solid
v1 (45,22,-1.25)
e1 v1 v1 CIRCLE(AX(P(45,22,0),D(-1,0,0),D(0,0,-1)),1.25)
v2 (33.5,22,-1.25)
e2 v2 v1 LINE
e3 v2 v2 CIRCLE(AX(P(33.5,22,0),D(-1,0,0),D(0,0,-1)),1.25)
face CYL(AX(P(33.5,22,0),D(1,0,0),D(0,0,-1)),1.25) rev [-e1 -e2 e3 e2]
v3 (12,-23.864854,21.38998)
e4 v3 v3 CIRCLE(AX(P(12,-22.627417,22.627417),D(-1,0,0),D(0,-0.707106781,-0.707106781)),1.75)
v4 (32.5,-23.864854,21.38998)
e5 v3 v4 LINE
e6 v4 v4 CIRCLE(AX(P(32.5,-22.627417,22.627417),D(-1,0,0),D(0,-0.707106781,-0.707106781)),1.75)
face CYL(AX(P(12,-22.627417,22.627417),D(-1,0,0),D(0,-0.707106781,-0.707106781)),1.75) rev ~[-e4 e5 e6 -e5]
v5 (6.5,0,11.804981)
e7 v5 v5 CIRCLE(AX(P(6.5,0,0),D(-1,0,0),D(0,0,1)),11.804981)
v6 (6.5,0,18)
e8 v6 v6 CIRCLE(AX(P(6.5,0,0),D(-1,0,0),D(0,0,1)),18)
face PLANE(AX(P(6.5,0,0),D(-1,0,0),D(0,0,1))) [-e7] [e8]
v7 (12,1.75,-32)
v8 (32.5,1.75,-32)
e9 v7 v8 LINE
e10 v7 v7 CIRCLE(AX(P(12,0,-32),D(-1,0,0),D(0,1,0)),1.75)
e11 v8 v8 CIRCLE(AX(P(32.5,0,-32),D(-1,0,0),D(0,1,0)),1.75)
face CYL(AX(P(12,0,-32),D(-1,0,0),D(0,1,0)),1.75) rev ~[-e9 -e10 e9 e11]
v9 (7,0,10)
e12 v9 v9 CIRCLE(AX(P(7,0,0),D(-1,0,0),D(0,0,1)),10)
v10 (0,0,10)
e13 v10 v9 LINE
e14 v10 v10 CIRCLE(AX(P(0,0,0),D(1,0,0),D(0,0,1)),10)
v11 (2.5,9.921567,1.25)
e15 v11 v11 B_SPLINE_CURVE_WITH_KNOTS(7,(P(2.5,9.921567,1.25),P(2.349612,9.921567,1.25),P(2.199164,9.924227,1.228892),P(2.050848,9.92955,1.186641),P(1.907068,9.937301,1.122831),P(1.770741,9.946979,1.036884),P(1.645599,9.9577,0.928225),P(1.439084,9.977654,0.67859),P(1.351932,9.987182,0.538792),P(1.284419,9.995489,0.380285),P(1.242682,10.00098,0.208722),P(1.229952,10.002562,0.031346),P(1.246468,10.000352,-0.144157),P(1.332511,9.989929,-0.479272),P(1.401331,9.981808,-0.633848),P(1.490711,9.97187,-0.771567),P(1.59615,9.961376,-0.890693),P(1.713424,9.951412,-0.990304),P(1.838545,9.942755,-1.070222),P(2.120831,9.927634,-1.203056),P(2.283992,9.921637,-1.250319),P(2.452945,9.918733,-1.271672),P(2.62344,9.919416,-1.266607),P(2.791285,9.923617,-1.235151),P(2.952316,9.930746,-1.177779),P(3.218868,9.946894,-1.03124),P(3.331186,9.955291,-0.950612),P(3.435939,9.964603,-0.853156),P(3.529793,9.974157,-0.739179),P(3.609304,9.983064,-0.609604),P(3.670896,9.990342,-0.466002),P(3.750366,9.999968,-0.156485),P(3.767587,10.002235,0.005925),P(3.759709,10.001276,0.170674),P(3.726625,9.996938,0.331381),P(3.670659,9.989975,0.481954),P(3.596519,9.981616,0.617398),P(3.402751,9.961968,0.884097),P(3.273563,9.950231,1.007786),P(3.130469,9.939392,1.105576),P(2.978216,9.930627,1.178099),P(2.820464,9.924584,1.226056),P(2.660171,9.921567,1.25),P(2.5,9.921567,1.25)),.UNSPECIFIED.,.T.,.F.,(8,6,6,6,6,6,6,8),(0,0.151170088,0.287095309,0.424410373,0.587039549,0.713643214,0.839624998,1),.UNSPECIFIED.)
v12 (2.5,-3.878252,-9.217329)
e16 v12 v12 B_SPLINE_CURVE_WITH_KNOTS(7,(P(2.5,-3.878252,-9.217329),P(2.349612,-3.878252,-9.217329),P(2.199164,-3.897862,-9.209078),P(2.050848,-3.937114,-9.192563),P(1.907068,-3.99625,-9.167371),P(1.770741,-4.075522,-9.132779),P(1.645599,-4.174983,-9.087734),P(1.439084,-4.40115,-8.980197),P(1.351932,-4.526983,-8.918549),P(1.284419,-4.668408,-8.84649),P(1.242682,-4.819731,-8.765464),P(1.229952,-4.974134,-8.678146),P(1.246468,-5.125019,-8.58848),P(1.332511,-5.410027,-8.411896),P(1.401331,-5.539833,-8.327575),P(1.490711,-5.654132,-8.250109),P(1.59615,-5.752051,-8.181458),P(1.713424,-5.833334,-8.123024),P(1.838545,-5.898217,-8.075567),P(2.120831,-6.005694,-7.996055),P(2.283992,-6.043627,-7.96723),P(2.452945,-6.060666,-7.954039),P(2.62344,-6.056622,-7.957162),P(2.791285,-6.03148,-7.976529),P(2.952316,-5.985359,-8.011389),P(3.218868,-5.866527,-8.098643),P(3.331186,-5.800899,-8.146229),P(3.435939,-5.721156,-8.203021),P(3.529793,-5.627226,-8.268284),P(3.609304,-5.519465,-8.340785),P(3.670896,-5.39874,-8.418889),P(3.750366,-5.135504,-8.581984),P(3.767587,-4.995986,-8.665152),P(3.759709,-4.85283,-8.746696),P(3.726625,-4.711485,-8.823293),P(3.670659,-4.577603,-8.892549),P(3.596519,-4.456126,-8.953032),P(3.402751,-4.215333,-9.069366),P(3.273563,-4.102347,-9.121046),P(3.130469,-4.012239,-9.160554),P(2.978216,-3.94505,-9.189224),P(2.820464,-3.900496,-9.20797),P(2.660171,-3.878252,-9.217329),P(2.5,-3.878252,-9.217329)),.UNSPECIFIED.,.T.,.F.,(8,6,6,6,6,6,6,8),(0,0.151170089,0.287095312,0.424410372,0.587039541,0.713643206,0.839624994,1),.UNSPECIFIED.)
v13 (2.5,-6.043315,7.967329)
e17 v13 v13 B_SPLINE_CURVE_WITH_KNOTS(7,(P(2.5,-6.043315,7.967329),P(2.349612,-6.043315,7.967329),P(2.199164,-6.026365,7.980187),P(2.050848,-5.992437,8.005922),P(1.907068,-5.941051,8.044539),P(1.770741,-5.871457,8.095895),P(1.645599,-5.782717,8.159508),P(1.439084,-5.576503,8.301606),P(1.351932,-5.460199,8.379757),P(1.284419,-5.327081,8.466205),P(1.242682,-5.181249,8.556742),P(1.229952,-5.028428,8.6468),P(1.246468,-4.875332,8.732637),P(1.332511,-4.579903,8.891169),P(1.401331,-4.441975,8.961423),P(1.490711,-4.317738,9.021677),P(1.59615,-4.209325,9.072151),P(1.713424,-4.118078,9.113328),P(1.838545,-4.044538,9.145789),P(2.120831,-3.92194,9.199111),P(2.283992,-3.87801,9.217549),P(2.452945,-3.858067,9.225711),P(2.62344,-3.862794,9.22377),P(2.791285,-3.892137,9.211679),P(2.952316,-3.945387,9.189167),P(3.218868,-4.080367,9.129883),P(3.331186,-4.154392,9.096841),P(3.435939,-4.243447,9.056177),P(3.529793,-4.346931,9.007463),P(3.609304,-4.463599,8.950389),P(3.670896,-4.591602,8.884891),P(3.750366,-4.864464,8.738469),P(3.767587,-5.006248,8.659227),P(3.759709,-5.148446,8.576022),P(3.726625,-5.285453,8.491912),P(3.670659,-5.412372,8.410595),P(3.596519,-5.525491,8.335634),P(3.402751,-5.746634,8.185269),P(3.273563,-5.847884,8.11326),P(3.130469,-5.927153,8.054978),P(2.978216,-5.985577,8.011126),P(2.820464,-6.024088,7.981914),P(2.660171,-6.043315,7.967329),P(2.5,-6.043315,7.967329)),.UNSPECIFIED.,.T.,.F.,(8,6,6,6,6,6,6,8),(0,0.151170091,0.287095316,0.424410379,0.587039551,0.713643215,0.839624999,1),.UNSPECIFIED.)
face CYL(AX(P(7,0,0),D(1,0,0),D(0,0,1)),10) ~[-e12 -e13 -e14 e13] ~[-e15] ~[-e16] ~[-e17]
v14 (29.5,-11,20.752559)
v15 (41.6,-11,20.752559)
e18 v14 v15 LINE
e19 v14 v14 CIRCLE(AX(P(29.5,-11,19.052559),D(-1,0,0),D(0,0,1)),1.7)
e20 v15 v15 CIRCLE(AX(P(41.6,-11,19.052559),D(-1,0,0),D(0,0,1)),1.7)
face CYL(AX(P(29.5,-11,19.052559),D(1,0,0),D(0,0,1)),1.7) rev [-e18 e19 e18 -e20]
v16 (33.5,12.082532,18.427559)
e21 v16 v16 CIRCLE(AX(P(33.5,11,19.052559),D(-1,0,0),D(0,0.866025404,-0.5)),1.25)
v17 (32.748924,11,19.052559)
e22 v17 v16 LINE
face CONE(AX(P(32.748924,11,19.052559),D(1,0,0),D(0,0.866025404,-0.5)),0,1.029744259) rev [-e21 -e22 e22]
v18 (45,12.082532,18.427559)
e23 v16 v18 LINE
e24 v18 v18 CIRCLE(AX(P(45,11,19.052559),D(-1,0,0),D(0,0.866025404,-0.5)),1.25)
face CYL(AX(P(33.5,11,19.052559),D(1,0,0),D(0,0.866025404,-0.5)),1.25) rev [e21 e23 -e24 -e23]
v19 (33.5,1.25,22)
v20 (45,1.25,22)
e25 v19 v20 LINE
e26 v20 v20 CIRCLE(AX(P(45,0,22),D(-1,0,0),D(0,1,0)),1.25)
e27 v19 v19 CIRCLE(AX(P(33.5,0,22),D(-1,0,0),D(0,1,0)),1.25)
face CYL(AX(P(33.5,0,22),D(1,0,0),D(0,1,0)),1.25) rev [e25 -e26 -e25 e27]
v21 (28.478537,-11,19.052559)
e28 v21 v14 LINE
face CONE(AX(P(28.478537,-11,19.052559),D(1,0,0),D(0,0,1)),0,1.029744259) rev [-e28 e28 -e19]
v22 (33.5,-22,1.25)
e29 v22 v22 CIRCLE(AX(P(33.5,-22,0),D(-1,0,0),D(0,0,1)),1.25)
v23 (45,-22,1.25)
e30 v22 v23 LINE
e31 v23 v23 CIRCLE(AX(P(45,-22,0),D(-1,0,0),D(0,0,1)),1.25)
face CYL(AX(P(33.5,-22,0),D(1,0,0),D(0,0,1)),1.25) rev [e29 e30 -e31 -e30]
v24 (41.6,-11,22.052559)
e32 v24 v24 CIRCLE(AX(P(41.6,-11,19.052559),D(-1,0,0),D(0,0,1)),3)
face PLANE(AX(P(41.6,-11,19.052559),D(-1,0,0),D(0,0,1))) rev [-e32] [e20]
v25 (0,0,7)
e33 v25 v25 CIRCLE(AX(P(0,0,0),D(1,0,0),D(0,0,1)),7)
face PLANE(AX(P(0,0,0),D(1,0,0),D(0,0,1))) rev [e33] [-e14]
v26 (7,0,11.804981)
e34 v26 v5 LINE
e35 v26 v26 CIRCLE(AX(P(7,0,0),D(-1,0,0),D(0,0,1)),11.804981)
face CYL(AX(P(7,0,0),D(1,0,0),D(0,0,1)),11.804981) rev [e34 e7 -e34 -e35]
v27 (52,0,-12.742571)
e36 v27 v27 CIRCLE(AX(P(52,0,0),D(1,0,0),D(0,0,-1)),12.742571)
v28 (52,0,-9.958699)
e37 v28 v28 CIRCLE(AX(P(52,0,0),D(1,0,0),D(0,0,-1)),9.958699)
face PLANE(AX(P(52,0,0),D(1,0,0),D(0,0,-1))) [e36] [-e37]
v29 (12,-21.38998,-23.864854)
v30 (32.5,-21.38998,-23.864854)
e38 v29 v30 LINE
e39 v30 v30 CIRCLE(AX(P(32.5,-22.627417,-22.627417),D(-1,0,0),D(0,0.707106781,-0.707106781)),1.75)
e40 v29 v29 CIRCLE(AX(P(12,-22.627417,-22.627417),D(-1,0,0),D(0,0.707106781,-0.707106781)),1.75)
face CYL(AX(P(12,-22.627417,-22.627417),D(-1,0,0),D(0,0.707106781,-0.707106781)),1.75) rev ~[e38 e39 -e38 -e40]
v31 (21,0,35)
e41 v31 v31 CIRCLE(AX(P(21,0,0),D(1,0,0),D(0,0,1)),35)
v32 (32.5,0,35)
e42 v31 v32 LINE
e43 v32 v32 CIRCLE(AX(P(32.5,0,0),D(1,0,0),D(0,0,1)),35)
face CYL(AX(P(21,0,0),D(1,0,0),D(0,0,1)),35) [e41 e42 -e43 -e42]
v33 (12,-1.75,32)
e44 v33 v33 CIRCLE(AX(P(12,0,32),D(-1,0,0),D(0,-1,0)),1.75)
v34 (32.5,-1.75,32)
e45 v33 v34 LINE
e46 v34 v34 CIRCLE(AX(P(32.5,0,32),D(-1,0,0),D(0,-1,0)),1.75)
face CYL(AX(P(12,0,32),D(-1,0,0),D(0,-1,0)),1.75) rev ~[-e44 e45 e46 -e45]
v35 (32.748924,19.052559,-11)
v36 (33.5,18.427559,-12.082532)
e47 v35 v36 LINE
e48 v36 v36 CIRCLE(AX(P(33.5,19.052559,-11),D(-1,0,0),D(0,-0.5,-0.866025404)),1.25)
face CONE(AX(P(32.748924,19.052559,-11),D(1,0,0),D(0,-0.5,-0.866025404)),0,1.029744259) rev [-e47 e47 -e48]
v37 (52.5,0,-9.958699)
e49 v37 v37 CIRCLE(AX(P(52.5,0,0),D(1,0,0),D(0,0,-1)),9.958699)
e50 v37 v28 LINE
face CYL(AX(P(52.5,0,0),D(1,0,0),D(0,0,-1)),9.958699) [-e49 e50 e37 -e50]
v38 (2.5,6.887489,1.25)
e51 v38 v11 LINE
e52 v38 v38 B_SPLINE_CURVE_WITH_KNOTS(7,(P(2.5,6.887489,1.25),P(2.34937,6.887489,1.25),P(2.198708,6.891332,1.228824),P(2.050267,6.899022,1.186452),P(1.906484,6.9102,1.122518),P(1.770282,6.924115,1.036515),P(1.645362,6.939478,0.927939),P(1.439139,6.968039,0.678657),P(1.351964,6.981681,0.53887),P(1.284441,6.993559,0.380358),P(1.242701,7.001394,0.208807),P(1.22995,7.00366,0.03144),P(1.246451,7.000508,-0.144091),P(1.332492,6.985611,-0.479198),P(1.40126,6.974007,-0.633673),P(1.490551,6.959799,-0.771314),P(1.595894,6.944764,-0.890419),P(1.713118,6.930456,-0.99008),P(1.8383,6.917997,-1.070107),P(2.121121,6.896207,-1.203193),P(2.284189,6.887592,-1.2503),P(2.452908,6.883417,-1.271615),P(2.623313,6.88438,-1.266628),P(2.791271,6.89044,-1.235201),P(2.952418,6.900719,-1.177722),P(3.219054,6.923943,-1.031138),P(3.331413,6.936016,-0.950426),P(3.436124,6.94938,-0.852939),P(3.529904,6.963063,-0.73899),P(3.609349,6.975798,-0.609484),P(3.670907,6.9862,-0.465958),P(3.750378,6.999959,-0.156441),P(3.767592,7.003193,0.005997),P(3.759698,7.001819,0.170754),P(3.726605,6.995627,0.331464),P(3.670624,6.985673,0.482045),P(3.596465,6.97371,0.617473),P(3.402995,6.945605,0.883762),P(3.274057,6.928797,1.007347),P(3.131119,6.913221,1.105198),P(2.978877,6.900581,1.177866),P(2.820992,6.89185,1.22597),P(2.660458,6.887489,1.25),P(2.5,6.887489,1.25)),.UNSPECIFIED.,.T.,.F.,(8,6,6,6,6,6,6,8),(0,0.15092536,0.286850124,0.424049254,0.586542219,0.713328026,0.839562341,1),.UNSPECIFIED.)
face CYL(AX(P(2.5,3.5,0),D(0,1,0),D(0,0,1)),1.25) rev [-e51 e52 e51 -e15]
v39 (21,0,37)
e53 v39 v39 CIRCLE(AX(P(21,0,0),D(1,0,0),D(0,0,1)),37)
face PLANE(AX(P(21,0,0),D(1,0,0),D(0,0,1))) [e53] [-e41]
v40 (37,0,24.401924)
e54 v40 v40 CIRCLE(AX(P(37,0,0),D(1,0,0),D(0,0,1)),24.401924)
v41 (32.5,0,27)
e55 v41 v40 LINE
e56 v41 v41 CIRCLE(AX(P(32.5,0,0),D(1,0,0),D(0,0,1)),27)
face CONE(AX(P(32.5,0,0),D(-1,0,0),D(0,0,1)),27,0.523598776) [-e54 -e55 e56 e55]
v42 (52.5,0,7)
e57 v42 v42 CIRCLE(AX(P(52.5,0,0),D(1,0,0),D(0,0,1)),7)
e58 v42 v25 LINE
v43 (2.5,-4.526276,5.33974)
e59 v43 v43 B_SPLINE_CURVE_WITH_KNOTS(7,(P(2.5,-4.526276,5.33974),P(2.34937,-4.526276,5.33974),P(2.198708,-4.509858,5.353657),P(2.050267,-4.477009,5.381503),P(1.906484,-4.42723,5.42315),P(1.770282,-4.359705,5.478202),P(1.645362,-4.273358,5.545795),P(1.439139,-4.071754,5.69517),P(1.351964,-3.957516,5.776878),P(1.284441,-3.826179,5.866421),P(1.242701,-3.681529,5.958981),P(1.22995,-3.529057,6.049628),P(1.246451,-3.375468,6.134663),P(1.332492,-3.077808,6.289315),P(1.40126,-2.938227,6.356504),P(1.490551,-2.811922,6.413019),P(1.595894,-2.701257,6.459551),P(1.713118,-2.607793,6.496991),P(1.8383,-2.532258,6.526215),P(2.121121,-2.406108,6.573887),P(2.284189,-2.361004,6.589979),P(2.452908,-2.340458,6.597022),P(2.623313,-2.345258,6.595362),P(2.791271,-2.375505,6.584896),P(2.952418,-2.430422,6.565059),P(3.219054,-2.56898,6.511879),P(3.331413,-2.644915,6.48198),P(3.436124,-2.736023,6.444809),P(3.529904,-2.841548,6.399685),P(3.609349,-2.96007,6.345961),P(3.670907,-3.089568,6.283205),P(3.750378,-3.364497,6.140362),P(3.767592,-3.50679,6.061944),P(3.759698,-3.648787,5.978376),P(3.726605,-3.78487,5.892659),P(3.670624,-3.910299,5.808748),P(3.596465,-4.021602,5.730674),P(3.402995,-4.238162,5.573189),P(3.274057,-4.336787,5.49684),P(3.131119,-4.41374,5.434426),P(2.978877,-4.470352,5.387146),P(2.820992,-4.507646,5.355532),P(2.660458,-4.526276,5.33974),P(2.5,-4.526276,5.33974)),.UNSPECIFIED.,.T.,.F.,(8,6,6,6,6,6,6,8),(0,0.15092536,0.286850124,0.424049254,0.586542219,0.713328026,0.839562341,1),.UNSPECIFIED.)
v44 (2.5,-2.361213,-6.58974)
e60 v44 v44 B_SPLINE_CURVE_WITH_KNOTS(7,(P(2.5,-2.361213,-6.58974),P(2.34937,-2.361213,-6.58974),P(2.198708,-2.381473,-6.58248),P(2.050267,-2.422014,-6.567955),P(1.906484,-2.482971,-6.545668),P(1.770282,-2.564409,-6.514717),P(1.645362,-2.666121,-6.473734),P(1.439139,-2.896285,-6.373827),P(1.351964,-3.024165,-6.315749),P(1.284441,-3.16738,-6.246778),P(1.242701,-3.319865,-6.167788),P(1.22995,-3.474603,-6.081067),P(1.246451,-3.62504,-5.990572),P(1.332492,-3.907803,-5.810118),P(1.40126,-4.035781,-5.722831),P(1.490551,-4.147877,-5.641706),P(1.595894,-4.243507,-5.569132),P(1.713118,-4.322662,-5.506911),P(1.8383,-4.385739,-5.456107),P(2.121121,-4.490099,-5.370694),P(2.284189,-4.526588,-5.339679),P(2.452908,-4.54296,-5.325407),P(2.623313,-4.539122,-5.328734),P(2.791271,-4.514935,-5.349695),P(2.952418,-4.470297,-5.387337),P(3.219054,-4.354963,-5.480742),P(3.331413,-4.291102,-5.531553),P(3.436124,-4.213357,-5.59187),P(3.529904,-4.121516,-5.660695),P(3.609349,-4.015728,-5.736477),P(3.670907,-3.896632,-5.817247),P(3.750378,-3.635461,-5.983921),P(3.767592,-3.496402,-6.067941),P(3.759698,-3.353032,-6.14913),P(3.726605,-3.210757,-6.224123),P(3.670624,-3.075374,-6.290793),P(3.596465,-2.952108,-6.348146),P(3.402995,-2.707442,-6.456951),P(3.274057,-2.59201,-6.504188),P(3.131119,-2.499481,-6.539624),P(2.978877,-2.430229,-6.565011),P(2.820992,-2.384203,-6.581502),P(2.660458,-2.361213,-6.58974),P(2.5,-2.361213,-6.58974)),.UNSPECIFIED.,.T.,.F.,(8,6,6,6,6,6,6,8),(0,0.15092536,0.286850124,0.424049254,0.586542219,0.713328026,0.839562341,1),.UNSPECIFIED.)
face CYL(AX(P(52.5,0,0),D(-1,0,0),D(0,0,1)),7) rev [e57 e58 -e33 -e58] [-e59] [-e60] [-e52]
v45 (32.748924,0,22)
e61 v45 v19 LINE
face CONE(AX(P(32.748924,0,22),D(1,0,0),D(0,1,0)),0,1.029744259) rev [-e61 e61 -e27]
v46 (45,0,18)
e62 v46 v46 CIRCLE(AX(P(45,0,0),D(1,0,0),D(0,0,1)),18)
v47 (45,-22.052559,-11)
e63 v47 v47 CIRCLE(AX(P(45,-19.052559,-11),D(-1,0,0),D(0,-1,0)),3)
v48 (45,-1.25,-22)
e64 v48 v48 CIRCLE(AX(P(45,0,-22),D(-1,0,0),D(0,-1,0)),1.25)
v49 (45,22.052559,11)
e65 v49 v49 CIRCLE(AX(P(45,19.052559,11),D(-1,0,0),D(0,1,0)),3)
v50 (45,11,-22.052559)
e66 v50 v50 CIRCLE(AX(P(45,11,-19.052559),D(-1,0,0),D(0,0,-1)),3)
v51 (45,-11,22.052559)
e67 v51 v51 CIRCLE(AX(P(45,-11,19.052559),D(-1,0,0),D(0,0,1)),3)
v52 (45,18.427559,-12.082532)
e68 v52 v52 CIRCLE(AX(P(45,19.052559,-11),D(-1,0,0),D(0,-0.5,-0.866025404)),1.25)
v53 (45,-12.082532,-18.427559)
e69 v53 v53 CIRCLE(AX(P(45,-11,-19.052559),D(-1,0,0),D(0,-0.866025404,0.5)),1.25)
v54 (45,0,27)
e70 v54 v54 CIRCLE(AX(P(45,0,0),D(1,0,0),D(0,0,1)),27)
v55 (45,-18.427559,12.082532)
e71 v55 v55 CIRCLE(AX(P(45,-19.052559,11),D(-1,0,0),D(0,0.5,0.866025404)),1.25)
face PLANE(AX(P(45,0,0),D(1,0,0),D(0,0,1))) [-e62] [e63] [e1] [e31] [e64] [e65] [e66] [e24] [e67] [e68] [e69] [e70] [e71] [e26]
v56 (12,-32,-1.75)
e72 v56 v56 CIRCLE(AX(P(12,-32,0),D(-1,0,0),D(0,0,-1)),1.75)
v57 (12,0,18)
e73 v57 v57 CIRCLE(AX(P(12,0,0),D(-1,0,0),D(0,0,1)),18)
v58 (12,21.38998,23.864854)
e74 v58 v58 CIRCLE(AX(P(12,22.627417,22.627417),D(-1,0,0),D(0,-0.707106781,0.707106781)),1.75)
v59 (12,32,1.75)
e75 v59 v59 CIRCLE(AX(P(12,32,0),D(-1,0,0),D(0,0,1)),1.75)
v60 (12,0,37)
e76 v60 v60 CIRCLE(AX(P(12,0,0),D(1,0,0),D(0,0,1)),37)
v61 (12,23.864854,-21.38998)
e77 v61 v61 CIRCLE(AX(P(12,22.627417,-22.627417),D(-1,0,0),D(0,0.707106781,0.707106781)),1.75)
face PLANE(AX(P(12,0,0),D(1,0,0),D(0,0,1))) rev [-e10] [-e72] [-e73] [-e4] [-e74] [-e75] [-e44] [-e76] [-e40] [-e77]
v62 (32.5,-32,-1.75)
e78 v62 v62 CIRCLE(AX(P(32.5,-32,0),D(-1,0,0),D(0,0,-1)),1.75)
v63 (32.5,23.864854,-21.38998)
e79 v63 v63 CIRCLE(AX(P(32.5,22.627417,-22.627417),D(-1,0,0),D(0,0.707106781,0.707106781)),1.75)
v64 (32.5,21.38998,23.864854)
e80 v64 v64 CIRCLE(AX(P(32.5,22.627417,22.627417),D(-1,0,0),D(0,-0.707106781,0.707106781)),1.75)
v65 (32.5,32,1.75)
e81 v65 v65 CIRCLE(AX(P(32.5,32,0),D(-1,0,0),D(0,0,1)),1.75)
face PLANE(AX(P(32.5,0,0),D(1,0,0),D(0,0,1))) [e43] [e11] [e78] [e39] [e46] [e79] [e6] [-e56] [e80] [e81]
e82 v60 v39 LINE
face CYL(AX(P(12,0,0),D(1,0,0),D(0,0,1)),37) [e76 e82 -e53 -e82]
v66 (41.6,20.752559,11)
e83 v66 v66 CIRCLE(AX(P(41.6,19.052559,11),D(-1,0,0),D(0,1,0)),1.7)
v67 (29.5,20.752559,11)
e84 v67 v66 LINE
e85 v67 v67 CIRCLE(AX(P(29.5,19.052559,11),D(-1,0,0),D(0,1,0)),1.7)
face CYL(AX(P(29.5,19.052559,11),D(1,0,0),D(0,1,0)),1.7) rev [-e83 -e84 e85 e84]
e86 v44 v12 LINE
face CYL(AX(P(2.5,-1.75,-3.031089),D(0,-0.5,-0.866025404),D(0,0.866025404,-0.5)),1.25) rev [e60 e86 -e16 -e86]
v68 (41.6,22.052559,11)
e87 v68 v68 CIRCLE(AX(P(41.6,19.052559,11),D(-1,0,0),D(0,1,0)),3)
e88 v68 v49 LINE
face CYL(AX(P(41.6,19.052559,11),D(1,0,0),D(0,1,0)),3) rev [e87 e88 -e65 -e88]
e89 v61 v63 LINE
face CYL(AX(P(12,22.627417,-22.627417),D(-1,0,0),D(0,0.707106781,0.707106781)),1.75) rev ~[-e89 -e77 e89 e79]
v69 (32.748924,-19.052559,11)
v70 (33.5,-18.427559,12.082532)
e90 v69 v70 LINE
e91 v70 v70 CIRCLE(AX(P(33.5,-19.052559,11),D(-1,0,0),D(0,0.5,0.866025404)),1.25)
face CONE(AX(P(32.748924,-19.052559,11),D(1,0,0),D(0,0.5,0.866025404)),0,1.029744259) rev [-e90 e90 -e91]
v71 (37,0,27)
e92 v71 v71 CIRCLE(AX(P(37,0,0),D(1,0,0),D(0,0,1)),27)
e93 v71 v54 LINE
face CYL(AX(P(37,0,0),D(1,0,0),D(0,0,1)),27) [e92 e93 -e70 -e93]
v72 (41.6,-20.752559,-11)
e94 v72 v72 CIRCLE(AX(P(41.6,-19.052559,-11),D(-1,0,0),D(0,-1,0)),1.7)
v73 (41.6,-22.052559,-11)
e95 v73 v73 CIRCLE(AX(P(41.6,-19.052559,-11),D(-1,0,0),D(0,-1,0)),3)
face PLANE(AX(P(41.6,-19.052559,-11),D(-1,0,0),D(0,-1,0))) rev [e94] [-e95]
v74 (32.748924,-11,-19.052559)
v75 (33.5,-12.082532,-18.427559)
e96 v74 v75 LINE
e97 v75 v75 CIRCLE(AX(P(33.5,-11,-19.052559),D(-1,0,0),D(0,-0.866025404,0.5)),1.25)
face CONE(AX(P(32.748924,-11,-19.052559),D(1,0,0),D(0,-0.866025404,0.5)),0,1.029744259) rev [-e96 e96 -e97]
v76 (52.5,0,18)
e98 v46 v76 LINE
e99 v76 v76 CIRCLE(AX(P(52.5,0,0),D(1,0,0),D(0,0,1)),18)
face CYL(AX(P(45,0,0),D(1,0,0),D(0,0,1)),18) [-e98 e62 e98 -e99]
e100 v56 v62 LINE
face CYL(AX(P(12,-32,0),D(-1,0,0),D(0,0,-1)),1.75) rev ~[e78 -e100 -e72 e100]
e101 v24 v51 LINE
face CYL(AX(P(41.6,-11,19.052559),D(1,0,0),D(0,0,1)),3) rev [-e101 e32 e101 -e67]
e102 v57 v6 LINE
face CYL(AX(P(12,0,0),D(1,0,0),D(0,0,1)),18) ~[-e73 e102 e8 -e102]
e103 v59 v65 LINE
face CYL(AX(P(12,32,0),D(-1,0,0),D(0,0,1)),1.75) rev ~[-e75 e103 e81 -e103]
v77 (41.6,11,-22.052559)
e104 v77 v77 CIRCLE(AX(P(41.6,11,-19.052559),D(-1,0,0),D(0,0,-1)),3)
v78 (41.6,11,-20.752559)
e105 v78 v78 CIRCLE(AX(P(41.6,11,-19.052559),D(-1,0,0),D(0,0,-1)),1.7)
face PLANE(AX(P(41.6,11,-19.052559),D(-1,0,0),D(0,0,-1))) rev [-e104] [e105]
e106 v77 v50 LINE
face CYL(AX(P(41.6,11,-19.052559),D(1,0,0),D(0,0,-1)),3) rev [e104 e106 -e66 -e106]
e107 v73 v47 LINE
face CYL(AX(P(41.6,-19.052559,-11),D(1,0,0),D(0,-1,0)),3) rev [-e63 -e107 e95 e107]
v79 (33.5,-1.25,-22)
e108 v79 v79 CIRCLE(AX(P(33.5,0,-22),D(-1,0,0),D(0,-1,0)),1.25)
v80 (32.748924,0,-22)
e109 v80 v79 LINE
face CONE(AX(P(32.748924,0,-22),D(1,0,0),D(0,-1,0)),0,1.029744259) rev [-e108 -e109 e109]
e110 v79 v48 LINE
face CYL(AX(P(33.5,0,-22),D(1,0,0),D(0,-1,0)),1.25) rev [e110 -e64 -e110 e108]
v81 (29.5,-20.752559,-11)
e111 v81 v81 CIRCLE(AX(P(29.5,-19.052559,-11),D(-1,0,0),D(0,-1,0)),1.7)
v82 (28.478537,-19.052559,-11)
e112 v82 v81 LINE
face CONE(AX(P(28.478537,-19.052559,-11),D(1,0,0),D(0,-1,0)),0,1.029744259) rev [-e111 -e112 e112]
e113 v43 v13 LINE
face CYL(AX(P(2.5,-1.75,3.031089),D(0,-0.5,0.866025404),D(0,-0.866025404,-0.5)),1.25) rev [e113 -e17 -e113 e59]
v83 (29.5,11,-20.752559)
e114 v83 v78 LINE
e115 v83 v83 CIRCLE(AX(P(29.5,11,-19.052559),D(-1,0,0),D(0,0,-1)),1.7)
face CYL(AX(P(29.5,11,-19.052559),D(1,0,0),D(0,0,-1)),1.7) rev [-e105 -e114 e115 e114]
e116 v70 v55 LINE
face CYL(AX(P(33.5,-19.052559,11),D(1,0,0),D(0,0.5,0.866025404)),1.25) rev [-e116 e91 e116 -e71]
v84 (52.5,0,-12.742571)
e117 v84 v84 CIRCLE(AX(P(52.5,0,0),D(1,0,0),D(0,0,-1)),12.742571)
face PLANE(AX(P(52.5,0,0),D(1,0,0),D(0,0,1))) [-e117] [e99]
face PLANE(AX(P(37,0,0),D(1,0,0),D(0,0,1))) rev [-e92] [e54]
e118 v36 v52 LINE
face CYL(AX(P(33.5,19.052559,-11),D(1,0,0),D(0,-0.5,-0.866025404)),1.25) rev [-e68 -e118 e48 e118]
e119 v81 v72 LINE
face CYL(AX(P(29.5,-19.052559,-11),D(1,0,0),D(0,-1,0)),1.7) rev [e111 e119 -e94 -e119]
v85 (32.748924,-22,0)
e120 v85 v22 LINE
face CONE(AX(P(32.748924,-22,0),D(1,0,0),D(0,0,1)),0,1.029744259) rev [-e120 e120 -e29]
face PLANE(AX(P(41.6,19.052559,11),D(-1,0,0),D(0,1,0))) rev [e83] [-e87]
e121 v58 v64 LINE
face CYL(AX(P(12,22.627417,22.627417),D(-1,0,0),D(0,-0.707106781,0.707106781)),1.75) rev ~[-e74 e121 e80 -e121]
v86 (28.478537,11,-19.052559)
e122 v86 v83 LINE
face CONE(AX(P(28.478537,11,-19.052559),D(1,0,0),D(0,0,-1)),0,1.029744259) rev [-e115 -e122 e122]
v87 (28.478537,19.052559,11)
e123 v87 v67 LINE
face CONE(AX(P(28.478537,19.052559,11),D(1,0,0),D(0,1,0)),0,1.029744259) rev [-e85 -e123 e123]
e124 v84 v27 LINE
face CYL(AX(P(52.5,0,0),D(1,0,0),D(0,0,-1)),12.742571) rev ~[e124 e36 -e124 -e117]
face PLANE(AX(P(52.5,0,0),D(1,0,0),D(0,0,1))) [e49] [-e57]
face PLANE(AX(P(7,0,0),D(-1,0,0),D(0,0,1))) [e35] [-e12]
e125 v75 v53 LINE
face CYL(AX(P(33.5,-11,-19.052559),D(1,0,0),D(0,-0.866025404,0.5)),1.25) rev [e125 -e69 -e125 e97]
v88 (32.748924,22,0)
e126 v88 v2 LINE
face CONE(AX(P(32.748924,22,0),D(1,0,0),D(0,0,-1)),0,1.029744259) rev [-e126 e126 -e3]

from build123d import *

# Parameters (mm, degrees)
CUT_EXTRUDE_1_REACH      = 68.168
SKETCH_5_R               = 1.75
PATTERN_CIRCULAR_2_COUNT = 8
PATTERN_CIRCULAR_3_COUNT = 2
PATTERN_CIRCULAR_3_ANGLE = 30
SKETCH_9_R               = 18
SKETCH_9_R_2             = 10
EXTRUDE_1_DEPTH          = 5.5
PATTERN_CIRCULAR_4_COUNT = 3
SKETCH_12_R              = 12.742570665
SKETCH_12_R_2            = 9.958698881
CUT_EXTRUDE_2_DEPTH      = 0.5
CUT_EXTRUDE_START        = -0.5
SKETCH_13_R              = 11.804980978
SKETCH_13_R_2            = 10
CUT_EXTRUDE_3_DEPTH      = 0.5
PATTERN_CIRCULAR_5_COUNT = 4
PATTERN_CIRCULAR_6_COUNT = 4


with BuildPart() as part:
    # 草图1 → 旋转1 (revolve)
    with BuildSketch(Plane.XY, mode=Mode.PRIVATE) as revolve_1_sk:
        Polygon((0, 7), (0, 10), (12, 10), (12, 37), (21, 37), (21, 35), (32.5, 35), (32.5, 27), (37, 24.401923789), (37, 27), (45, 27), (45, 18), (52.5, 18), (52.5, 7), align=None)
    revolve(revolve_1_sk.sketch.rotate(Axis((-65.200779727, 0, 0), (1, 0, 0)), 90), axis=Axis((-65.200779727, 0, 0), (1, 0, 0)))

    # 草图5 → 切除-拉伸1 (cut, up to next)
    with BuildSketch(Plane.ZY.offset(-12), mode=Mode.PRIVATE) as cut_extrude_1_sk1:
        with Locations((0, 32)):
            Circle(SKETCH_5_R)
    cut_extrude_1_tool1 = extrude(cut_extrude_1_sk1.sketch, amount=-CUT_EXTRUDE_1_REACH, mode=Mode.PRIVATE) & part.part
    cut_extrude_1 = cut_extrude_1_tool1.solids().sort_by_distance((12, 32, 0))[0]
    add(cut_extrude_1, mode=Mode.SUBTRACT)

    # 阵列(圆周)2: 切除-拉伸1 ×8 about axis
    pattern_circular_2_axis = Axis((0, 0, 0), (1, 0, 0))
    for i in range(1, PATTERN_CIRCULAR_2_COUNT):
        add(cut_extrude_1.rotate(pattern_circular_2_axis, i * 360 / PATTERN_CIRCULAR_2_COUNT), mode=Mode.SUBTRACT)

    # 草图7 → M3 螺纹孔2 (revolve, cut)
    with BuildSketch(Plane(origin=(45, 22, 0), x_dir=(0, 0, -1), z_dir=(0, 1, 0))):
        Polygon((0, 0), (0, 12.251075774), (1.25, 11.5), (1.25, 0), align=None)
    hole_wizard_m3_2 = revolve(axis=Axis((51.35, 22, 0), (-1, 0, 0)), mode=Mode.SUBTRACT)

    # 阵列(圆周)3: M3 螺纹孔2 ×2 about axis
    pattern_circular_3_axis = Axis((52.5, 0, 0), (-1, 0, 0))
    for i in range(1, PATTERN_CIRCULAR_3_COUNT):
        add(hole_wizard_m3_2.rotate(pattern_circular_3_axis, i * PATTERN_CIRCULAR_3_ANGLE / (PATTERN_CIRCULAR_3_COUNT - 1)), mode=Mode.SUBTRACT)

    # 草图9 → 凸台-拉伸1 (add)
    with BuildSketch(Plane.ZY.offset(-12)):
        Circle(SKETCH_9_R)
        Circle(SKETCH_9_R_2, mode=Mode.SUBTRACT)
    extrude(amount=EXTRUDE_1_DEPTH)

    # 草图10 → M3 螺纹孔3 (revolve, cut)
    with BuildSketch(Plane(origin=(2.5, 10, 0), x_dir=(0, 0, 1), z_dir=(1, 0, 0))):
        Polygon((0, 0), (0, 7.251075774), (1.25, 6.5), (1.25, 0), align=None)
    hole_wizard_m3_3 = revolve(axis=Axis((2.5, 16.35, 0), (0, -1, 0)), mode=Mode.SUBTRACT)

    # 阵列(圆周)4: M3 螺纹孔3 ×3 about axis
    pattern_circular_4_axis = Axis((52.5, 0, 0), (-1, 0, 0))
    for i in range(1, PATTERN_CIRCULAR_4_COUNT):
        add(hole_wizard_m3_3.rotate(pattern_circular_4_axis, i * 360 / PATTERN_CIRCULAR_4_COUNT), mode=Mode.SUBTRACT)

    # 草图12 → 切除-拉伸2 (cut)
    with BuildSketch(Plane(origin=(52.5, 0, 0), x_dir=(0, 0, -1), z_dir=(1, 0, 0))):
        Circle(SKETCH_12_R)
        Circle(SKETCH_12_R_2, mode=Mode.SUBTRACT)
    extrude(amount=-CUT_EXTRUDE_2_DEPTH, mode=Mode.SUBTRACT)

    # 草图13 → 切除-拉伸3 (cut)
    with BuildSketch(Plane.ZY.offset(-6.5).offset(CUT_EXTRUDE_START)):
        Circle(SKETCH_13_R)
        Circle(SKETCH_13_R_2, mode=Mode.SUBTRACT)
    extrude(amount=CUT_EXTRUDE_3_DEPTH, mode=Mode.SUBTRACT)

    # 阵列(圆周)5: M3 螺纹孔2 ×4 about axis
    pattern_circular_5_axis = Axis((0, 0, 0), (1, 0, 0))
    for i in range(1, PATTERN_CIRCULAR_5_COUNT):
        add(hole_wizard_m3_2.rotate(pattern_circular_5_axis, i * 360 / PATTERN_CIRCULAR_5_COUNT), mode=Mode.SUBTRACT)

    # 阵列(圆周)5 copy 1 sketch → 阵列(圆周)5 copy 1 (revolve, cut)
    with BuildSketch(Plane(origin=(45, 11, 19.052558883), x_dir=(0, 0.866025403784438, -0.5000000000000011), z_dir=(0, 0.5000000000000011, 0.866025403784438))):
        Polygon((0, 0), (0, 12.251075774), (1.25, 11.5), (1.25, 0), align=None)
    revolve(axis=Axis((51.35, 11, 19.052558883), (-1, 0, 0)), mode=Mode.SUBTRACT)

    # 阵列(圆周)5 copy 2 sketch → 阵列(圆周)5 copy 2 (revolve, cut)
    with BuildSketch(Plane(origin=(45, -19.052558883, 11), x_dir=(0, 0.5000000000000012, 0.8660254037844379), z_dir=(0, -0.8660254037844379, 0.5000000000000012))):
        Polygon((0, 0), (0, 12.251075774), (1.25, 11.5), (1.25, 0), align=None)
    revolve(axis=Axis((51.35, -19.052558883, 11), (-1, 0, 0)), mode=Mode.SUBTRACT)

    # 阵列(圆周)5 copy 3 sketch → 阵列(圆周)5 copy 3 (revolve, cut)
    with BuildSketch(Plane(origin=(45, -11, -19.052558883), x_dir=(0, -0.8660254037844379, 0.5000000000000012), z_dir=(0, -0.5000000000000012, -0.8660254037844379))):
        Polygon((0, 0), (0, 12.251075774), (1.25, 11.5), (1.25, 0), align=None)
    revolve(axis=Axis((51.35, -11, -19.052558883), (-1, 0, 0)), mode=Mode.SUBTRACT)

    # 草图14 → 打孔尺寸(%根据)内六角圆柱头螺钉的类型1 (revolve, cut)
    with BuildSketch(Plane(origin=(45, 11, -19.052558883), x_dir=(0, 0, -1), z_dir=(0, 1, 0))):
        Polygon((0, 0), (0, 16.521463052), (1.7, 15.5), (1.7, 3.4), (3, 3.4), (3, 0), align=None)
    hole_wizard_1 = revolve(axis=Axis((51.35, 11, -19.052558883), (-1, 0, 0)), mode=Mode.SUBTRACT)

    # 阵列(圆周)6: 打孔尺寸(%根据)内六角圆柱头螺钉的类型1 ×4 about axis
    pattern_circular_6_axis = Axis((0, 0, 0), (1, 0, 0))
    for i in range(1, PATTERN_CIRCULAR_6_COUNT):
        add(hole_wizard_1.rotate(pattern_circular_6_axis, i * 360 / PATTERN_CIRCULAR_6_COUNT), mode=Mode.SUBTRACT)


solid = part.part
